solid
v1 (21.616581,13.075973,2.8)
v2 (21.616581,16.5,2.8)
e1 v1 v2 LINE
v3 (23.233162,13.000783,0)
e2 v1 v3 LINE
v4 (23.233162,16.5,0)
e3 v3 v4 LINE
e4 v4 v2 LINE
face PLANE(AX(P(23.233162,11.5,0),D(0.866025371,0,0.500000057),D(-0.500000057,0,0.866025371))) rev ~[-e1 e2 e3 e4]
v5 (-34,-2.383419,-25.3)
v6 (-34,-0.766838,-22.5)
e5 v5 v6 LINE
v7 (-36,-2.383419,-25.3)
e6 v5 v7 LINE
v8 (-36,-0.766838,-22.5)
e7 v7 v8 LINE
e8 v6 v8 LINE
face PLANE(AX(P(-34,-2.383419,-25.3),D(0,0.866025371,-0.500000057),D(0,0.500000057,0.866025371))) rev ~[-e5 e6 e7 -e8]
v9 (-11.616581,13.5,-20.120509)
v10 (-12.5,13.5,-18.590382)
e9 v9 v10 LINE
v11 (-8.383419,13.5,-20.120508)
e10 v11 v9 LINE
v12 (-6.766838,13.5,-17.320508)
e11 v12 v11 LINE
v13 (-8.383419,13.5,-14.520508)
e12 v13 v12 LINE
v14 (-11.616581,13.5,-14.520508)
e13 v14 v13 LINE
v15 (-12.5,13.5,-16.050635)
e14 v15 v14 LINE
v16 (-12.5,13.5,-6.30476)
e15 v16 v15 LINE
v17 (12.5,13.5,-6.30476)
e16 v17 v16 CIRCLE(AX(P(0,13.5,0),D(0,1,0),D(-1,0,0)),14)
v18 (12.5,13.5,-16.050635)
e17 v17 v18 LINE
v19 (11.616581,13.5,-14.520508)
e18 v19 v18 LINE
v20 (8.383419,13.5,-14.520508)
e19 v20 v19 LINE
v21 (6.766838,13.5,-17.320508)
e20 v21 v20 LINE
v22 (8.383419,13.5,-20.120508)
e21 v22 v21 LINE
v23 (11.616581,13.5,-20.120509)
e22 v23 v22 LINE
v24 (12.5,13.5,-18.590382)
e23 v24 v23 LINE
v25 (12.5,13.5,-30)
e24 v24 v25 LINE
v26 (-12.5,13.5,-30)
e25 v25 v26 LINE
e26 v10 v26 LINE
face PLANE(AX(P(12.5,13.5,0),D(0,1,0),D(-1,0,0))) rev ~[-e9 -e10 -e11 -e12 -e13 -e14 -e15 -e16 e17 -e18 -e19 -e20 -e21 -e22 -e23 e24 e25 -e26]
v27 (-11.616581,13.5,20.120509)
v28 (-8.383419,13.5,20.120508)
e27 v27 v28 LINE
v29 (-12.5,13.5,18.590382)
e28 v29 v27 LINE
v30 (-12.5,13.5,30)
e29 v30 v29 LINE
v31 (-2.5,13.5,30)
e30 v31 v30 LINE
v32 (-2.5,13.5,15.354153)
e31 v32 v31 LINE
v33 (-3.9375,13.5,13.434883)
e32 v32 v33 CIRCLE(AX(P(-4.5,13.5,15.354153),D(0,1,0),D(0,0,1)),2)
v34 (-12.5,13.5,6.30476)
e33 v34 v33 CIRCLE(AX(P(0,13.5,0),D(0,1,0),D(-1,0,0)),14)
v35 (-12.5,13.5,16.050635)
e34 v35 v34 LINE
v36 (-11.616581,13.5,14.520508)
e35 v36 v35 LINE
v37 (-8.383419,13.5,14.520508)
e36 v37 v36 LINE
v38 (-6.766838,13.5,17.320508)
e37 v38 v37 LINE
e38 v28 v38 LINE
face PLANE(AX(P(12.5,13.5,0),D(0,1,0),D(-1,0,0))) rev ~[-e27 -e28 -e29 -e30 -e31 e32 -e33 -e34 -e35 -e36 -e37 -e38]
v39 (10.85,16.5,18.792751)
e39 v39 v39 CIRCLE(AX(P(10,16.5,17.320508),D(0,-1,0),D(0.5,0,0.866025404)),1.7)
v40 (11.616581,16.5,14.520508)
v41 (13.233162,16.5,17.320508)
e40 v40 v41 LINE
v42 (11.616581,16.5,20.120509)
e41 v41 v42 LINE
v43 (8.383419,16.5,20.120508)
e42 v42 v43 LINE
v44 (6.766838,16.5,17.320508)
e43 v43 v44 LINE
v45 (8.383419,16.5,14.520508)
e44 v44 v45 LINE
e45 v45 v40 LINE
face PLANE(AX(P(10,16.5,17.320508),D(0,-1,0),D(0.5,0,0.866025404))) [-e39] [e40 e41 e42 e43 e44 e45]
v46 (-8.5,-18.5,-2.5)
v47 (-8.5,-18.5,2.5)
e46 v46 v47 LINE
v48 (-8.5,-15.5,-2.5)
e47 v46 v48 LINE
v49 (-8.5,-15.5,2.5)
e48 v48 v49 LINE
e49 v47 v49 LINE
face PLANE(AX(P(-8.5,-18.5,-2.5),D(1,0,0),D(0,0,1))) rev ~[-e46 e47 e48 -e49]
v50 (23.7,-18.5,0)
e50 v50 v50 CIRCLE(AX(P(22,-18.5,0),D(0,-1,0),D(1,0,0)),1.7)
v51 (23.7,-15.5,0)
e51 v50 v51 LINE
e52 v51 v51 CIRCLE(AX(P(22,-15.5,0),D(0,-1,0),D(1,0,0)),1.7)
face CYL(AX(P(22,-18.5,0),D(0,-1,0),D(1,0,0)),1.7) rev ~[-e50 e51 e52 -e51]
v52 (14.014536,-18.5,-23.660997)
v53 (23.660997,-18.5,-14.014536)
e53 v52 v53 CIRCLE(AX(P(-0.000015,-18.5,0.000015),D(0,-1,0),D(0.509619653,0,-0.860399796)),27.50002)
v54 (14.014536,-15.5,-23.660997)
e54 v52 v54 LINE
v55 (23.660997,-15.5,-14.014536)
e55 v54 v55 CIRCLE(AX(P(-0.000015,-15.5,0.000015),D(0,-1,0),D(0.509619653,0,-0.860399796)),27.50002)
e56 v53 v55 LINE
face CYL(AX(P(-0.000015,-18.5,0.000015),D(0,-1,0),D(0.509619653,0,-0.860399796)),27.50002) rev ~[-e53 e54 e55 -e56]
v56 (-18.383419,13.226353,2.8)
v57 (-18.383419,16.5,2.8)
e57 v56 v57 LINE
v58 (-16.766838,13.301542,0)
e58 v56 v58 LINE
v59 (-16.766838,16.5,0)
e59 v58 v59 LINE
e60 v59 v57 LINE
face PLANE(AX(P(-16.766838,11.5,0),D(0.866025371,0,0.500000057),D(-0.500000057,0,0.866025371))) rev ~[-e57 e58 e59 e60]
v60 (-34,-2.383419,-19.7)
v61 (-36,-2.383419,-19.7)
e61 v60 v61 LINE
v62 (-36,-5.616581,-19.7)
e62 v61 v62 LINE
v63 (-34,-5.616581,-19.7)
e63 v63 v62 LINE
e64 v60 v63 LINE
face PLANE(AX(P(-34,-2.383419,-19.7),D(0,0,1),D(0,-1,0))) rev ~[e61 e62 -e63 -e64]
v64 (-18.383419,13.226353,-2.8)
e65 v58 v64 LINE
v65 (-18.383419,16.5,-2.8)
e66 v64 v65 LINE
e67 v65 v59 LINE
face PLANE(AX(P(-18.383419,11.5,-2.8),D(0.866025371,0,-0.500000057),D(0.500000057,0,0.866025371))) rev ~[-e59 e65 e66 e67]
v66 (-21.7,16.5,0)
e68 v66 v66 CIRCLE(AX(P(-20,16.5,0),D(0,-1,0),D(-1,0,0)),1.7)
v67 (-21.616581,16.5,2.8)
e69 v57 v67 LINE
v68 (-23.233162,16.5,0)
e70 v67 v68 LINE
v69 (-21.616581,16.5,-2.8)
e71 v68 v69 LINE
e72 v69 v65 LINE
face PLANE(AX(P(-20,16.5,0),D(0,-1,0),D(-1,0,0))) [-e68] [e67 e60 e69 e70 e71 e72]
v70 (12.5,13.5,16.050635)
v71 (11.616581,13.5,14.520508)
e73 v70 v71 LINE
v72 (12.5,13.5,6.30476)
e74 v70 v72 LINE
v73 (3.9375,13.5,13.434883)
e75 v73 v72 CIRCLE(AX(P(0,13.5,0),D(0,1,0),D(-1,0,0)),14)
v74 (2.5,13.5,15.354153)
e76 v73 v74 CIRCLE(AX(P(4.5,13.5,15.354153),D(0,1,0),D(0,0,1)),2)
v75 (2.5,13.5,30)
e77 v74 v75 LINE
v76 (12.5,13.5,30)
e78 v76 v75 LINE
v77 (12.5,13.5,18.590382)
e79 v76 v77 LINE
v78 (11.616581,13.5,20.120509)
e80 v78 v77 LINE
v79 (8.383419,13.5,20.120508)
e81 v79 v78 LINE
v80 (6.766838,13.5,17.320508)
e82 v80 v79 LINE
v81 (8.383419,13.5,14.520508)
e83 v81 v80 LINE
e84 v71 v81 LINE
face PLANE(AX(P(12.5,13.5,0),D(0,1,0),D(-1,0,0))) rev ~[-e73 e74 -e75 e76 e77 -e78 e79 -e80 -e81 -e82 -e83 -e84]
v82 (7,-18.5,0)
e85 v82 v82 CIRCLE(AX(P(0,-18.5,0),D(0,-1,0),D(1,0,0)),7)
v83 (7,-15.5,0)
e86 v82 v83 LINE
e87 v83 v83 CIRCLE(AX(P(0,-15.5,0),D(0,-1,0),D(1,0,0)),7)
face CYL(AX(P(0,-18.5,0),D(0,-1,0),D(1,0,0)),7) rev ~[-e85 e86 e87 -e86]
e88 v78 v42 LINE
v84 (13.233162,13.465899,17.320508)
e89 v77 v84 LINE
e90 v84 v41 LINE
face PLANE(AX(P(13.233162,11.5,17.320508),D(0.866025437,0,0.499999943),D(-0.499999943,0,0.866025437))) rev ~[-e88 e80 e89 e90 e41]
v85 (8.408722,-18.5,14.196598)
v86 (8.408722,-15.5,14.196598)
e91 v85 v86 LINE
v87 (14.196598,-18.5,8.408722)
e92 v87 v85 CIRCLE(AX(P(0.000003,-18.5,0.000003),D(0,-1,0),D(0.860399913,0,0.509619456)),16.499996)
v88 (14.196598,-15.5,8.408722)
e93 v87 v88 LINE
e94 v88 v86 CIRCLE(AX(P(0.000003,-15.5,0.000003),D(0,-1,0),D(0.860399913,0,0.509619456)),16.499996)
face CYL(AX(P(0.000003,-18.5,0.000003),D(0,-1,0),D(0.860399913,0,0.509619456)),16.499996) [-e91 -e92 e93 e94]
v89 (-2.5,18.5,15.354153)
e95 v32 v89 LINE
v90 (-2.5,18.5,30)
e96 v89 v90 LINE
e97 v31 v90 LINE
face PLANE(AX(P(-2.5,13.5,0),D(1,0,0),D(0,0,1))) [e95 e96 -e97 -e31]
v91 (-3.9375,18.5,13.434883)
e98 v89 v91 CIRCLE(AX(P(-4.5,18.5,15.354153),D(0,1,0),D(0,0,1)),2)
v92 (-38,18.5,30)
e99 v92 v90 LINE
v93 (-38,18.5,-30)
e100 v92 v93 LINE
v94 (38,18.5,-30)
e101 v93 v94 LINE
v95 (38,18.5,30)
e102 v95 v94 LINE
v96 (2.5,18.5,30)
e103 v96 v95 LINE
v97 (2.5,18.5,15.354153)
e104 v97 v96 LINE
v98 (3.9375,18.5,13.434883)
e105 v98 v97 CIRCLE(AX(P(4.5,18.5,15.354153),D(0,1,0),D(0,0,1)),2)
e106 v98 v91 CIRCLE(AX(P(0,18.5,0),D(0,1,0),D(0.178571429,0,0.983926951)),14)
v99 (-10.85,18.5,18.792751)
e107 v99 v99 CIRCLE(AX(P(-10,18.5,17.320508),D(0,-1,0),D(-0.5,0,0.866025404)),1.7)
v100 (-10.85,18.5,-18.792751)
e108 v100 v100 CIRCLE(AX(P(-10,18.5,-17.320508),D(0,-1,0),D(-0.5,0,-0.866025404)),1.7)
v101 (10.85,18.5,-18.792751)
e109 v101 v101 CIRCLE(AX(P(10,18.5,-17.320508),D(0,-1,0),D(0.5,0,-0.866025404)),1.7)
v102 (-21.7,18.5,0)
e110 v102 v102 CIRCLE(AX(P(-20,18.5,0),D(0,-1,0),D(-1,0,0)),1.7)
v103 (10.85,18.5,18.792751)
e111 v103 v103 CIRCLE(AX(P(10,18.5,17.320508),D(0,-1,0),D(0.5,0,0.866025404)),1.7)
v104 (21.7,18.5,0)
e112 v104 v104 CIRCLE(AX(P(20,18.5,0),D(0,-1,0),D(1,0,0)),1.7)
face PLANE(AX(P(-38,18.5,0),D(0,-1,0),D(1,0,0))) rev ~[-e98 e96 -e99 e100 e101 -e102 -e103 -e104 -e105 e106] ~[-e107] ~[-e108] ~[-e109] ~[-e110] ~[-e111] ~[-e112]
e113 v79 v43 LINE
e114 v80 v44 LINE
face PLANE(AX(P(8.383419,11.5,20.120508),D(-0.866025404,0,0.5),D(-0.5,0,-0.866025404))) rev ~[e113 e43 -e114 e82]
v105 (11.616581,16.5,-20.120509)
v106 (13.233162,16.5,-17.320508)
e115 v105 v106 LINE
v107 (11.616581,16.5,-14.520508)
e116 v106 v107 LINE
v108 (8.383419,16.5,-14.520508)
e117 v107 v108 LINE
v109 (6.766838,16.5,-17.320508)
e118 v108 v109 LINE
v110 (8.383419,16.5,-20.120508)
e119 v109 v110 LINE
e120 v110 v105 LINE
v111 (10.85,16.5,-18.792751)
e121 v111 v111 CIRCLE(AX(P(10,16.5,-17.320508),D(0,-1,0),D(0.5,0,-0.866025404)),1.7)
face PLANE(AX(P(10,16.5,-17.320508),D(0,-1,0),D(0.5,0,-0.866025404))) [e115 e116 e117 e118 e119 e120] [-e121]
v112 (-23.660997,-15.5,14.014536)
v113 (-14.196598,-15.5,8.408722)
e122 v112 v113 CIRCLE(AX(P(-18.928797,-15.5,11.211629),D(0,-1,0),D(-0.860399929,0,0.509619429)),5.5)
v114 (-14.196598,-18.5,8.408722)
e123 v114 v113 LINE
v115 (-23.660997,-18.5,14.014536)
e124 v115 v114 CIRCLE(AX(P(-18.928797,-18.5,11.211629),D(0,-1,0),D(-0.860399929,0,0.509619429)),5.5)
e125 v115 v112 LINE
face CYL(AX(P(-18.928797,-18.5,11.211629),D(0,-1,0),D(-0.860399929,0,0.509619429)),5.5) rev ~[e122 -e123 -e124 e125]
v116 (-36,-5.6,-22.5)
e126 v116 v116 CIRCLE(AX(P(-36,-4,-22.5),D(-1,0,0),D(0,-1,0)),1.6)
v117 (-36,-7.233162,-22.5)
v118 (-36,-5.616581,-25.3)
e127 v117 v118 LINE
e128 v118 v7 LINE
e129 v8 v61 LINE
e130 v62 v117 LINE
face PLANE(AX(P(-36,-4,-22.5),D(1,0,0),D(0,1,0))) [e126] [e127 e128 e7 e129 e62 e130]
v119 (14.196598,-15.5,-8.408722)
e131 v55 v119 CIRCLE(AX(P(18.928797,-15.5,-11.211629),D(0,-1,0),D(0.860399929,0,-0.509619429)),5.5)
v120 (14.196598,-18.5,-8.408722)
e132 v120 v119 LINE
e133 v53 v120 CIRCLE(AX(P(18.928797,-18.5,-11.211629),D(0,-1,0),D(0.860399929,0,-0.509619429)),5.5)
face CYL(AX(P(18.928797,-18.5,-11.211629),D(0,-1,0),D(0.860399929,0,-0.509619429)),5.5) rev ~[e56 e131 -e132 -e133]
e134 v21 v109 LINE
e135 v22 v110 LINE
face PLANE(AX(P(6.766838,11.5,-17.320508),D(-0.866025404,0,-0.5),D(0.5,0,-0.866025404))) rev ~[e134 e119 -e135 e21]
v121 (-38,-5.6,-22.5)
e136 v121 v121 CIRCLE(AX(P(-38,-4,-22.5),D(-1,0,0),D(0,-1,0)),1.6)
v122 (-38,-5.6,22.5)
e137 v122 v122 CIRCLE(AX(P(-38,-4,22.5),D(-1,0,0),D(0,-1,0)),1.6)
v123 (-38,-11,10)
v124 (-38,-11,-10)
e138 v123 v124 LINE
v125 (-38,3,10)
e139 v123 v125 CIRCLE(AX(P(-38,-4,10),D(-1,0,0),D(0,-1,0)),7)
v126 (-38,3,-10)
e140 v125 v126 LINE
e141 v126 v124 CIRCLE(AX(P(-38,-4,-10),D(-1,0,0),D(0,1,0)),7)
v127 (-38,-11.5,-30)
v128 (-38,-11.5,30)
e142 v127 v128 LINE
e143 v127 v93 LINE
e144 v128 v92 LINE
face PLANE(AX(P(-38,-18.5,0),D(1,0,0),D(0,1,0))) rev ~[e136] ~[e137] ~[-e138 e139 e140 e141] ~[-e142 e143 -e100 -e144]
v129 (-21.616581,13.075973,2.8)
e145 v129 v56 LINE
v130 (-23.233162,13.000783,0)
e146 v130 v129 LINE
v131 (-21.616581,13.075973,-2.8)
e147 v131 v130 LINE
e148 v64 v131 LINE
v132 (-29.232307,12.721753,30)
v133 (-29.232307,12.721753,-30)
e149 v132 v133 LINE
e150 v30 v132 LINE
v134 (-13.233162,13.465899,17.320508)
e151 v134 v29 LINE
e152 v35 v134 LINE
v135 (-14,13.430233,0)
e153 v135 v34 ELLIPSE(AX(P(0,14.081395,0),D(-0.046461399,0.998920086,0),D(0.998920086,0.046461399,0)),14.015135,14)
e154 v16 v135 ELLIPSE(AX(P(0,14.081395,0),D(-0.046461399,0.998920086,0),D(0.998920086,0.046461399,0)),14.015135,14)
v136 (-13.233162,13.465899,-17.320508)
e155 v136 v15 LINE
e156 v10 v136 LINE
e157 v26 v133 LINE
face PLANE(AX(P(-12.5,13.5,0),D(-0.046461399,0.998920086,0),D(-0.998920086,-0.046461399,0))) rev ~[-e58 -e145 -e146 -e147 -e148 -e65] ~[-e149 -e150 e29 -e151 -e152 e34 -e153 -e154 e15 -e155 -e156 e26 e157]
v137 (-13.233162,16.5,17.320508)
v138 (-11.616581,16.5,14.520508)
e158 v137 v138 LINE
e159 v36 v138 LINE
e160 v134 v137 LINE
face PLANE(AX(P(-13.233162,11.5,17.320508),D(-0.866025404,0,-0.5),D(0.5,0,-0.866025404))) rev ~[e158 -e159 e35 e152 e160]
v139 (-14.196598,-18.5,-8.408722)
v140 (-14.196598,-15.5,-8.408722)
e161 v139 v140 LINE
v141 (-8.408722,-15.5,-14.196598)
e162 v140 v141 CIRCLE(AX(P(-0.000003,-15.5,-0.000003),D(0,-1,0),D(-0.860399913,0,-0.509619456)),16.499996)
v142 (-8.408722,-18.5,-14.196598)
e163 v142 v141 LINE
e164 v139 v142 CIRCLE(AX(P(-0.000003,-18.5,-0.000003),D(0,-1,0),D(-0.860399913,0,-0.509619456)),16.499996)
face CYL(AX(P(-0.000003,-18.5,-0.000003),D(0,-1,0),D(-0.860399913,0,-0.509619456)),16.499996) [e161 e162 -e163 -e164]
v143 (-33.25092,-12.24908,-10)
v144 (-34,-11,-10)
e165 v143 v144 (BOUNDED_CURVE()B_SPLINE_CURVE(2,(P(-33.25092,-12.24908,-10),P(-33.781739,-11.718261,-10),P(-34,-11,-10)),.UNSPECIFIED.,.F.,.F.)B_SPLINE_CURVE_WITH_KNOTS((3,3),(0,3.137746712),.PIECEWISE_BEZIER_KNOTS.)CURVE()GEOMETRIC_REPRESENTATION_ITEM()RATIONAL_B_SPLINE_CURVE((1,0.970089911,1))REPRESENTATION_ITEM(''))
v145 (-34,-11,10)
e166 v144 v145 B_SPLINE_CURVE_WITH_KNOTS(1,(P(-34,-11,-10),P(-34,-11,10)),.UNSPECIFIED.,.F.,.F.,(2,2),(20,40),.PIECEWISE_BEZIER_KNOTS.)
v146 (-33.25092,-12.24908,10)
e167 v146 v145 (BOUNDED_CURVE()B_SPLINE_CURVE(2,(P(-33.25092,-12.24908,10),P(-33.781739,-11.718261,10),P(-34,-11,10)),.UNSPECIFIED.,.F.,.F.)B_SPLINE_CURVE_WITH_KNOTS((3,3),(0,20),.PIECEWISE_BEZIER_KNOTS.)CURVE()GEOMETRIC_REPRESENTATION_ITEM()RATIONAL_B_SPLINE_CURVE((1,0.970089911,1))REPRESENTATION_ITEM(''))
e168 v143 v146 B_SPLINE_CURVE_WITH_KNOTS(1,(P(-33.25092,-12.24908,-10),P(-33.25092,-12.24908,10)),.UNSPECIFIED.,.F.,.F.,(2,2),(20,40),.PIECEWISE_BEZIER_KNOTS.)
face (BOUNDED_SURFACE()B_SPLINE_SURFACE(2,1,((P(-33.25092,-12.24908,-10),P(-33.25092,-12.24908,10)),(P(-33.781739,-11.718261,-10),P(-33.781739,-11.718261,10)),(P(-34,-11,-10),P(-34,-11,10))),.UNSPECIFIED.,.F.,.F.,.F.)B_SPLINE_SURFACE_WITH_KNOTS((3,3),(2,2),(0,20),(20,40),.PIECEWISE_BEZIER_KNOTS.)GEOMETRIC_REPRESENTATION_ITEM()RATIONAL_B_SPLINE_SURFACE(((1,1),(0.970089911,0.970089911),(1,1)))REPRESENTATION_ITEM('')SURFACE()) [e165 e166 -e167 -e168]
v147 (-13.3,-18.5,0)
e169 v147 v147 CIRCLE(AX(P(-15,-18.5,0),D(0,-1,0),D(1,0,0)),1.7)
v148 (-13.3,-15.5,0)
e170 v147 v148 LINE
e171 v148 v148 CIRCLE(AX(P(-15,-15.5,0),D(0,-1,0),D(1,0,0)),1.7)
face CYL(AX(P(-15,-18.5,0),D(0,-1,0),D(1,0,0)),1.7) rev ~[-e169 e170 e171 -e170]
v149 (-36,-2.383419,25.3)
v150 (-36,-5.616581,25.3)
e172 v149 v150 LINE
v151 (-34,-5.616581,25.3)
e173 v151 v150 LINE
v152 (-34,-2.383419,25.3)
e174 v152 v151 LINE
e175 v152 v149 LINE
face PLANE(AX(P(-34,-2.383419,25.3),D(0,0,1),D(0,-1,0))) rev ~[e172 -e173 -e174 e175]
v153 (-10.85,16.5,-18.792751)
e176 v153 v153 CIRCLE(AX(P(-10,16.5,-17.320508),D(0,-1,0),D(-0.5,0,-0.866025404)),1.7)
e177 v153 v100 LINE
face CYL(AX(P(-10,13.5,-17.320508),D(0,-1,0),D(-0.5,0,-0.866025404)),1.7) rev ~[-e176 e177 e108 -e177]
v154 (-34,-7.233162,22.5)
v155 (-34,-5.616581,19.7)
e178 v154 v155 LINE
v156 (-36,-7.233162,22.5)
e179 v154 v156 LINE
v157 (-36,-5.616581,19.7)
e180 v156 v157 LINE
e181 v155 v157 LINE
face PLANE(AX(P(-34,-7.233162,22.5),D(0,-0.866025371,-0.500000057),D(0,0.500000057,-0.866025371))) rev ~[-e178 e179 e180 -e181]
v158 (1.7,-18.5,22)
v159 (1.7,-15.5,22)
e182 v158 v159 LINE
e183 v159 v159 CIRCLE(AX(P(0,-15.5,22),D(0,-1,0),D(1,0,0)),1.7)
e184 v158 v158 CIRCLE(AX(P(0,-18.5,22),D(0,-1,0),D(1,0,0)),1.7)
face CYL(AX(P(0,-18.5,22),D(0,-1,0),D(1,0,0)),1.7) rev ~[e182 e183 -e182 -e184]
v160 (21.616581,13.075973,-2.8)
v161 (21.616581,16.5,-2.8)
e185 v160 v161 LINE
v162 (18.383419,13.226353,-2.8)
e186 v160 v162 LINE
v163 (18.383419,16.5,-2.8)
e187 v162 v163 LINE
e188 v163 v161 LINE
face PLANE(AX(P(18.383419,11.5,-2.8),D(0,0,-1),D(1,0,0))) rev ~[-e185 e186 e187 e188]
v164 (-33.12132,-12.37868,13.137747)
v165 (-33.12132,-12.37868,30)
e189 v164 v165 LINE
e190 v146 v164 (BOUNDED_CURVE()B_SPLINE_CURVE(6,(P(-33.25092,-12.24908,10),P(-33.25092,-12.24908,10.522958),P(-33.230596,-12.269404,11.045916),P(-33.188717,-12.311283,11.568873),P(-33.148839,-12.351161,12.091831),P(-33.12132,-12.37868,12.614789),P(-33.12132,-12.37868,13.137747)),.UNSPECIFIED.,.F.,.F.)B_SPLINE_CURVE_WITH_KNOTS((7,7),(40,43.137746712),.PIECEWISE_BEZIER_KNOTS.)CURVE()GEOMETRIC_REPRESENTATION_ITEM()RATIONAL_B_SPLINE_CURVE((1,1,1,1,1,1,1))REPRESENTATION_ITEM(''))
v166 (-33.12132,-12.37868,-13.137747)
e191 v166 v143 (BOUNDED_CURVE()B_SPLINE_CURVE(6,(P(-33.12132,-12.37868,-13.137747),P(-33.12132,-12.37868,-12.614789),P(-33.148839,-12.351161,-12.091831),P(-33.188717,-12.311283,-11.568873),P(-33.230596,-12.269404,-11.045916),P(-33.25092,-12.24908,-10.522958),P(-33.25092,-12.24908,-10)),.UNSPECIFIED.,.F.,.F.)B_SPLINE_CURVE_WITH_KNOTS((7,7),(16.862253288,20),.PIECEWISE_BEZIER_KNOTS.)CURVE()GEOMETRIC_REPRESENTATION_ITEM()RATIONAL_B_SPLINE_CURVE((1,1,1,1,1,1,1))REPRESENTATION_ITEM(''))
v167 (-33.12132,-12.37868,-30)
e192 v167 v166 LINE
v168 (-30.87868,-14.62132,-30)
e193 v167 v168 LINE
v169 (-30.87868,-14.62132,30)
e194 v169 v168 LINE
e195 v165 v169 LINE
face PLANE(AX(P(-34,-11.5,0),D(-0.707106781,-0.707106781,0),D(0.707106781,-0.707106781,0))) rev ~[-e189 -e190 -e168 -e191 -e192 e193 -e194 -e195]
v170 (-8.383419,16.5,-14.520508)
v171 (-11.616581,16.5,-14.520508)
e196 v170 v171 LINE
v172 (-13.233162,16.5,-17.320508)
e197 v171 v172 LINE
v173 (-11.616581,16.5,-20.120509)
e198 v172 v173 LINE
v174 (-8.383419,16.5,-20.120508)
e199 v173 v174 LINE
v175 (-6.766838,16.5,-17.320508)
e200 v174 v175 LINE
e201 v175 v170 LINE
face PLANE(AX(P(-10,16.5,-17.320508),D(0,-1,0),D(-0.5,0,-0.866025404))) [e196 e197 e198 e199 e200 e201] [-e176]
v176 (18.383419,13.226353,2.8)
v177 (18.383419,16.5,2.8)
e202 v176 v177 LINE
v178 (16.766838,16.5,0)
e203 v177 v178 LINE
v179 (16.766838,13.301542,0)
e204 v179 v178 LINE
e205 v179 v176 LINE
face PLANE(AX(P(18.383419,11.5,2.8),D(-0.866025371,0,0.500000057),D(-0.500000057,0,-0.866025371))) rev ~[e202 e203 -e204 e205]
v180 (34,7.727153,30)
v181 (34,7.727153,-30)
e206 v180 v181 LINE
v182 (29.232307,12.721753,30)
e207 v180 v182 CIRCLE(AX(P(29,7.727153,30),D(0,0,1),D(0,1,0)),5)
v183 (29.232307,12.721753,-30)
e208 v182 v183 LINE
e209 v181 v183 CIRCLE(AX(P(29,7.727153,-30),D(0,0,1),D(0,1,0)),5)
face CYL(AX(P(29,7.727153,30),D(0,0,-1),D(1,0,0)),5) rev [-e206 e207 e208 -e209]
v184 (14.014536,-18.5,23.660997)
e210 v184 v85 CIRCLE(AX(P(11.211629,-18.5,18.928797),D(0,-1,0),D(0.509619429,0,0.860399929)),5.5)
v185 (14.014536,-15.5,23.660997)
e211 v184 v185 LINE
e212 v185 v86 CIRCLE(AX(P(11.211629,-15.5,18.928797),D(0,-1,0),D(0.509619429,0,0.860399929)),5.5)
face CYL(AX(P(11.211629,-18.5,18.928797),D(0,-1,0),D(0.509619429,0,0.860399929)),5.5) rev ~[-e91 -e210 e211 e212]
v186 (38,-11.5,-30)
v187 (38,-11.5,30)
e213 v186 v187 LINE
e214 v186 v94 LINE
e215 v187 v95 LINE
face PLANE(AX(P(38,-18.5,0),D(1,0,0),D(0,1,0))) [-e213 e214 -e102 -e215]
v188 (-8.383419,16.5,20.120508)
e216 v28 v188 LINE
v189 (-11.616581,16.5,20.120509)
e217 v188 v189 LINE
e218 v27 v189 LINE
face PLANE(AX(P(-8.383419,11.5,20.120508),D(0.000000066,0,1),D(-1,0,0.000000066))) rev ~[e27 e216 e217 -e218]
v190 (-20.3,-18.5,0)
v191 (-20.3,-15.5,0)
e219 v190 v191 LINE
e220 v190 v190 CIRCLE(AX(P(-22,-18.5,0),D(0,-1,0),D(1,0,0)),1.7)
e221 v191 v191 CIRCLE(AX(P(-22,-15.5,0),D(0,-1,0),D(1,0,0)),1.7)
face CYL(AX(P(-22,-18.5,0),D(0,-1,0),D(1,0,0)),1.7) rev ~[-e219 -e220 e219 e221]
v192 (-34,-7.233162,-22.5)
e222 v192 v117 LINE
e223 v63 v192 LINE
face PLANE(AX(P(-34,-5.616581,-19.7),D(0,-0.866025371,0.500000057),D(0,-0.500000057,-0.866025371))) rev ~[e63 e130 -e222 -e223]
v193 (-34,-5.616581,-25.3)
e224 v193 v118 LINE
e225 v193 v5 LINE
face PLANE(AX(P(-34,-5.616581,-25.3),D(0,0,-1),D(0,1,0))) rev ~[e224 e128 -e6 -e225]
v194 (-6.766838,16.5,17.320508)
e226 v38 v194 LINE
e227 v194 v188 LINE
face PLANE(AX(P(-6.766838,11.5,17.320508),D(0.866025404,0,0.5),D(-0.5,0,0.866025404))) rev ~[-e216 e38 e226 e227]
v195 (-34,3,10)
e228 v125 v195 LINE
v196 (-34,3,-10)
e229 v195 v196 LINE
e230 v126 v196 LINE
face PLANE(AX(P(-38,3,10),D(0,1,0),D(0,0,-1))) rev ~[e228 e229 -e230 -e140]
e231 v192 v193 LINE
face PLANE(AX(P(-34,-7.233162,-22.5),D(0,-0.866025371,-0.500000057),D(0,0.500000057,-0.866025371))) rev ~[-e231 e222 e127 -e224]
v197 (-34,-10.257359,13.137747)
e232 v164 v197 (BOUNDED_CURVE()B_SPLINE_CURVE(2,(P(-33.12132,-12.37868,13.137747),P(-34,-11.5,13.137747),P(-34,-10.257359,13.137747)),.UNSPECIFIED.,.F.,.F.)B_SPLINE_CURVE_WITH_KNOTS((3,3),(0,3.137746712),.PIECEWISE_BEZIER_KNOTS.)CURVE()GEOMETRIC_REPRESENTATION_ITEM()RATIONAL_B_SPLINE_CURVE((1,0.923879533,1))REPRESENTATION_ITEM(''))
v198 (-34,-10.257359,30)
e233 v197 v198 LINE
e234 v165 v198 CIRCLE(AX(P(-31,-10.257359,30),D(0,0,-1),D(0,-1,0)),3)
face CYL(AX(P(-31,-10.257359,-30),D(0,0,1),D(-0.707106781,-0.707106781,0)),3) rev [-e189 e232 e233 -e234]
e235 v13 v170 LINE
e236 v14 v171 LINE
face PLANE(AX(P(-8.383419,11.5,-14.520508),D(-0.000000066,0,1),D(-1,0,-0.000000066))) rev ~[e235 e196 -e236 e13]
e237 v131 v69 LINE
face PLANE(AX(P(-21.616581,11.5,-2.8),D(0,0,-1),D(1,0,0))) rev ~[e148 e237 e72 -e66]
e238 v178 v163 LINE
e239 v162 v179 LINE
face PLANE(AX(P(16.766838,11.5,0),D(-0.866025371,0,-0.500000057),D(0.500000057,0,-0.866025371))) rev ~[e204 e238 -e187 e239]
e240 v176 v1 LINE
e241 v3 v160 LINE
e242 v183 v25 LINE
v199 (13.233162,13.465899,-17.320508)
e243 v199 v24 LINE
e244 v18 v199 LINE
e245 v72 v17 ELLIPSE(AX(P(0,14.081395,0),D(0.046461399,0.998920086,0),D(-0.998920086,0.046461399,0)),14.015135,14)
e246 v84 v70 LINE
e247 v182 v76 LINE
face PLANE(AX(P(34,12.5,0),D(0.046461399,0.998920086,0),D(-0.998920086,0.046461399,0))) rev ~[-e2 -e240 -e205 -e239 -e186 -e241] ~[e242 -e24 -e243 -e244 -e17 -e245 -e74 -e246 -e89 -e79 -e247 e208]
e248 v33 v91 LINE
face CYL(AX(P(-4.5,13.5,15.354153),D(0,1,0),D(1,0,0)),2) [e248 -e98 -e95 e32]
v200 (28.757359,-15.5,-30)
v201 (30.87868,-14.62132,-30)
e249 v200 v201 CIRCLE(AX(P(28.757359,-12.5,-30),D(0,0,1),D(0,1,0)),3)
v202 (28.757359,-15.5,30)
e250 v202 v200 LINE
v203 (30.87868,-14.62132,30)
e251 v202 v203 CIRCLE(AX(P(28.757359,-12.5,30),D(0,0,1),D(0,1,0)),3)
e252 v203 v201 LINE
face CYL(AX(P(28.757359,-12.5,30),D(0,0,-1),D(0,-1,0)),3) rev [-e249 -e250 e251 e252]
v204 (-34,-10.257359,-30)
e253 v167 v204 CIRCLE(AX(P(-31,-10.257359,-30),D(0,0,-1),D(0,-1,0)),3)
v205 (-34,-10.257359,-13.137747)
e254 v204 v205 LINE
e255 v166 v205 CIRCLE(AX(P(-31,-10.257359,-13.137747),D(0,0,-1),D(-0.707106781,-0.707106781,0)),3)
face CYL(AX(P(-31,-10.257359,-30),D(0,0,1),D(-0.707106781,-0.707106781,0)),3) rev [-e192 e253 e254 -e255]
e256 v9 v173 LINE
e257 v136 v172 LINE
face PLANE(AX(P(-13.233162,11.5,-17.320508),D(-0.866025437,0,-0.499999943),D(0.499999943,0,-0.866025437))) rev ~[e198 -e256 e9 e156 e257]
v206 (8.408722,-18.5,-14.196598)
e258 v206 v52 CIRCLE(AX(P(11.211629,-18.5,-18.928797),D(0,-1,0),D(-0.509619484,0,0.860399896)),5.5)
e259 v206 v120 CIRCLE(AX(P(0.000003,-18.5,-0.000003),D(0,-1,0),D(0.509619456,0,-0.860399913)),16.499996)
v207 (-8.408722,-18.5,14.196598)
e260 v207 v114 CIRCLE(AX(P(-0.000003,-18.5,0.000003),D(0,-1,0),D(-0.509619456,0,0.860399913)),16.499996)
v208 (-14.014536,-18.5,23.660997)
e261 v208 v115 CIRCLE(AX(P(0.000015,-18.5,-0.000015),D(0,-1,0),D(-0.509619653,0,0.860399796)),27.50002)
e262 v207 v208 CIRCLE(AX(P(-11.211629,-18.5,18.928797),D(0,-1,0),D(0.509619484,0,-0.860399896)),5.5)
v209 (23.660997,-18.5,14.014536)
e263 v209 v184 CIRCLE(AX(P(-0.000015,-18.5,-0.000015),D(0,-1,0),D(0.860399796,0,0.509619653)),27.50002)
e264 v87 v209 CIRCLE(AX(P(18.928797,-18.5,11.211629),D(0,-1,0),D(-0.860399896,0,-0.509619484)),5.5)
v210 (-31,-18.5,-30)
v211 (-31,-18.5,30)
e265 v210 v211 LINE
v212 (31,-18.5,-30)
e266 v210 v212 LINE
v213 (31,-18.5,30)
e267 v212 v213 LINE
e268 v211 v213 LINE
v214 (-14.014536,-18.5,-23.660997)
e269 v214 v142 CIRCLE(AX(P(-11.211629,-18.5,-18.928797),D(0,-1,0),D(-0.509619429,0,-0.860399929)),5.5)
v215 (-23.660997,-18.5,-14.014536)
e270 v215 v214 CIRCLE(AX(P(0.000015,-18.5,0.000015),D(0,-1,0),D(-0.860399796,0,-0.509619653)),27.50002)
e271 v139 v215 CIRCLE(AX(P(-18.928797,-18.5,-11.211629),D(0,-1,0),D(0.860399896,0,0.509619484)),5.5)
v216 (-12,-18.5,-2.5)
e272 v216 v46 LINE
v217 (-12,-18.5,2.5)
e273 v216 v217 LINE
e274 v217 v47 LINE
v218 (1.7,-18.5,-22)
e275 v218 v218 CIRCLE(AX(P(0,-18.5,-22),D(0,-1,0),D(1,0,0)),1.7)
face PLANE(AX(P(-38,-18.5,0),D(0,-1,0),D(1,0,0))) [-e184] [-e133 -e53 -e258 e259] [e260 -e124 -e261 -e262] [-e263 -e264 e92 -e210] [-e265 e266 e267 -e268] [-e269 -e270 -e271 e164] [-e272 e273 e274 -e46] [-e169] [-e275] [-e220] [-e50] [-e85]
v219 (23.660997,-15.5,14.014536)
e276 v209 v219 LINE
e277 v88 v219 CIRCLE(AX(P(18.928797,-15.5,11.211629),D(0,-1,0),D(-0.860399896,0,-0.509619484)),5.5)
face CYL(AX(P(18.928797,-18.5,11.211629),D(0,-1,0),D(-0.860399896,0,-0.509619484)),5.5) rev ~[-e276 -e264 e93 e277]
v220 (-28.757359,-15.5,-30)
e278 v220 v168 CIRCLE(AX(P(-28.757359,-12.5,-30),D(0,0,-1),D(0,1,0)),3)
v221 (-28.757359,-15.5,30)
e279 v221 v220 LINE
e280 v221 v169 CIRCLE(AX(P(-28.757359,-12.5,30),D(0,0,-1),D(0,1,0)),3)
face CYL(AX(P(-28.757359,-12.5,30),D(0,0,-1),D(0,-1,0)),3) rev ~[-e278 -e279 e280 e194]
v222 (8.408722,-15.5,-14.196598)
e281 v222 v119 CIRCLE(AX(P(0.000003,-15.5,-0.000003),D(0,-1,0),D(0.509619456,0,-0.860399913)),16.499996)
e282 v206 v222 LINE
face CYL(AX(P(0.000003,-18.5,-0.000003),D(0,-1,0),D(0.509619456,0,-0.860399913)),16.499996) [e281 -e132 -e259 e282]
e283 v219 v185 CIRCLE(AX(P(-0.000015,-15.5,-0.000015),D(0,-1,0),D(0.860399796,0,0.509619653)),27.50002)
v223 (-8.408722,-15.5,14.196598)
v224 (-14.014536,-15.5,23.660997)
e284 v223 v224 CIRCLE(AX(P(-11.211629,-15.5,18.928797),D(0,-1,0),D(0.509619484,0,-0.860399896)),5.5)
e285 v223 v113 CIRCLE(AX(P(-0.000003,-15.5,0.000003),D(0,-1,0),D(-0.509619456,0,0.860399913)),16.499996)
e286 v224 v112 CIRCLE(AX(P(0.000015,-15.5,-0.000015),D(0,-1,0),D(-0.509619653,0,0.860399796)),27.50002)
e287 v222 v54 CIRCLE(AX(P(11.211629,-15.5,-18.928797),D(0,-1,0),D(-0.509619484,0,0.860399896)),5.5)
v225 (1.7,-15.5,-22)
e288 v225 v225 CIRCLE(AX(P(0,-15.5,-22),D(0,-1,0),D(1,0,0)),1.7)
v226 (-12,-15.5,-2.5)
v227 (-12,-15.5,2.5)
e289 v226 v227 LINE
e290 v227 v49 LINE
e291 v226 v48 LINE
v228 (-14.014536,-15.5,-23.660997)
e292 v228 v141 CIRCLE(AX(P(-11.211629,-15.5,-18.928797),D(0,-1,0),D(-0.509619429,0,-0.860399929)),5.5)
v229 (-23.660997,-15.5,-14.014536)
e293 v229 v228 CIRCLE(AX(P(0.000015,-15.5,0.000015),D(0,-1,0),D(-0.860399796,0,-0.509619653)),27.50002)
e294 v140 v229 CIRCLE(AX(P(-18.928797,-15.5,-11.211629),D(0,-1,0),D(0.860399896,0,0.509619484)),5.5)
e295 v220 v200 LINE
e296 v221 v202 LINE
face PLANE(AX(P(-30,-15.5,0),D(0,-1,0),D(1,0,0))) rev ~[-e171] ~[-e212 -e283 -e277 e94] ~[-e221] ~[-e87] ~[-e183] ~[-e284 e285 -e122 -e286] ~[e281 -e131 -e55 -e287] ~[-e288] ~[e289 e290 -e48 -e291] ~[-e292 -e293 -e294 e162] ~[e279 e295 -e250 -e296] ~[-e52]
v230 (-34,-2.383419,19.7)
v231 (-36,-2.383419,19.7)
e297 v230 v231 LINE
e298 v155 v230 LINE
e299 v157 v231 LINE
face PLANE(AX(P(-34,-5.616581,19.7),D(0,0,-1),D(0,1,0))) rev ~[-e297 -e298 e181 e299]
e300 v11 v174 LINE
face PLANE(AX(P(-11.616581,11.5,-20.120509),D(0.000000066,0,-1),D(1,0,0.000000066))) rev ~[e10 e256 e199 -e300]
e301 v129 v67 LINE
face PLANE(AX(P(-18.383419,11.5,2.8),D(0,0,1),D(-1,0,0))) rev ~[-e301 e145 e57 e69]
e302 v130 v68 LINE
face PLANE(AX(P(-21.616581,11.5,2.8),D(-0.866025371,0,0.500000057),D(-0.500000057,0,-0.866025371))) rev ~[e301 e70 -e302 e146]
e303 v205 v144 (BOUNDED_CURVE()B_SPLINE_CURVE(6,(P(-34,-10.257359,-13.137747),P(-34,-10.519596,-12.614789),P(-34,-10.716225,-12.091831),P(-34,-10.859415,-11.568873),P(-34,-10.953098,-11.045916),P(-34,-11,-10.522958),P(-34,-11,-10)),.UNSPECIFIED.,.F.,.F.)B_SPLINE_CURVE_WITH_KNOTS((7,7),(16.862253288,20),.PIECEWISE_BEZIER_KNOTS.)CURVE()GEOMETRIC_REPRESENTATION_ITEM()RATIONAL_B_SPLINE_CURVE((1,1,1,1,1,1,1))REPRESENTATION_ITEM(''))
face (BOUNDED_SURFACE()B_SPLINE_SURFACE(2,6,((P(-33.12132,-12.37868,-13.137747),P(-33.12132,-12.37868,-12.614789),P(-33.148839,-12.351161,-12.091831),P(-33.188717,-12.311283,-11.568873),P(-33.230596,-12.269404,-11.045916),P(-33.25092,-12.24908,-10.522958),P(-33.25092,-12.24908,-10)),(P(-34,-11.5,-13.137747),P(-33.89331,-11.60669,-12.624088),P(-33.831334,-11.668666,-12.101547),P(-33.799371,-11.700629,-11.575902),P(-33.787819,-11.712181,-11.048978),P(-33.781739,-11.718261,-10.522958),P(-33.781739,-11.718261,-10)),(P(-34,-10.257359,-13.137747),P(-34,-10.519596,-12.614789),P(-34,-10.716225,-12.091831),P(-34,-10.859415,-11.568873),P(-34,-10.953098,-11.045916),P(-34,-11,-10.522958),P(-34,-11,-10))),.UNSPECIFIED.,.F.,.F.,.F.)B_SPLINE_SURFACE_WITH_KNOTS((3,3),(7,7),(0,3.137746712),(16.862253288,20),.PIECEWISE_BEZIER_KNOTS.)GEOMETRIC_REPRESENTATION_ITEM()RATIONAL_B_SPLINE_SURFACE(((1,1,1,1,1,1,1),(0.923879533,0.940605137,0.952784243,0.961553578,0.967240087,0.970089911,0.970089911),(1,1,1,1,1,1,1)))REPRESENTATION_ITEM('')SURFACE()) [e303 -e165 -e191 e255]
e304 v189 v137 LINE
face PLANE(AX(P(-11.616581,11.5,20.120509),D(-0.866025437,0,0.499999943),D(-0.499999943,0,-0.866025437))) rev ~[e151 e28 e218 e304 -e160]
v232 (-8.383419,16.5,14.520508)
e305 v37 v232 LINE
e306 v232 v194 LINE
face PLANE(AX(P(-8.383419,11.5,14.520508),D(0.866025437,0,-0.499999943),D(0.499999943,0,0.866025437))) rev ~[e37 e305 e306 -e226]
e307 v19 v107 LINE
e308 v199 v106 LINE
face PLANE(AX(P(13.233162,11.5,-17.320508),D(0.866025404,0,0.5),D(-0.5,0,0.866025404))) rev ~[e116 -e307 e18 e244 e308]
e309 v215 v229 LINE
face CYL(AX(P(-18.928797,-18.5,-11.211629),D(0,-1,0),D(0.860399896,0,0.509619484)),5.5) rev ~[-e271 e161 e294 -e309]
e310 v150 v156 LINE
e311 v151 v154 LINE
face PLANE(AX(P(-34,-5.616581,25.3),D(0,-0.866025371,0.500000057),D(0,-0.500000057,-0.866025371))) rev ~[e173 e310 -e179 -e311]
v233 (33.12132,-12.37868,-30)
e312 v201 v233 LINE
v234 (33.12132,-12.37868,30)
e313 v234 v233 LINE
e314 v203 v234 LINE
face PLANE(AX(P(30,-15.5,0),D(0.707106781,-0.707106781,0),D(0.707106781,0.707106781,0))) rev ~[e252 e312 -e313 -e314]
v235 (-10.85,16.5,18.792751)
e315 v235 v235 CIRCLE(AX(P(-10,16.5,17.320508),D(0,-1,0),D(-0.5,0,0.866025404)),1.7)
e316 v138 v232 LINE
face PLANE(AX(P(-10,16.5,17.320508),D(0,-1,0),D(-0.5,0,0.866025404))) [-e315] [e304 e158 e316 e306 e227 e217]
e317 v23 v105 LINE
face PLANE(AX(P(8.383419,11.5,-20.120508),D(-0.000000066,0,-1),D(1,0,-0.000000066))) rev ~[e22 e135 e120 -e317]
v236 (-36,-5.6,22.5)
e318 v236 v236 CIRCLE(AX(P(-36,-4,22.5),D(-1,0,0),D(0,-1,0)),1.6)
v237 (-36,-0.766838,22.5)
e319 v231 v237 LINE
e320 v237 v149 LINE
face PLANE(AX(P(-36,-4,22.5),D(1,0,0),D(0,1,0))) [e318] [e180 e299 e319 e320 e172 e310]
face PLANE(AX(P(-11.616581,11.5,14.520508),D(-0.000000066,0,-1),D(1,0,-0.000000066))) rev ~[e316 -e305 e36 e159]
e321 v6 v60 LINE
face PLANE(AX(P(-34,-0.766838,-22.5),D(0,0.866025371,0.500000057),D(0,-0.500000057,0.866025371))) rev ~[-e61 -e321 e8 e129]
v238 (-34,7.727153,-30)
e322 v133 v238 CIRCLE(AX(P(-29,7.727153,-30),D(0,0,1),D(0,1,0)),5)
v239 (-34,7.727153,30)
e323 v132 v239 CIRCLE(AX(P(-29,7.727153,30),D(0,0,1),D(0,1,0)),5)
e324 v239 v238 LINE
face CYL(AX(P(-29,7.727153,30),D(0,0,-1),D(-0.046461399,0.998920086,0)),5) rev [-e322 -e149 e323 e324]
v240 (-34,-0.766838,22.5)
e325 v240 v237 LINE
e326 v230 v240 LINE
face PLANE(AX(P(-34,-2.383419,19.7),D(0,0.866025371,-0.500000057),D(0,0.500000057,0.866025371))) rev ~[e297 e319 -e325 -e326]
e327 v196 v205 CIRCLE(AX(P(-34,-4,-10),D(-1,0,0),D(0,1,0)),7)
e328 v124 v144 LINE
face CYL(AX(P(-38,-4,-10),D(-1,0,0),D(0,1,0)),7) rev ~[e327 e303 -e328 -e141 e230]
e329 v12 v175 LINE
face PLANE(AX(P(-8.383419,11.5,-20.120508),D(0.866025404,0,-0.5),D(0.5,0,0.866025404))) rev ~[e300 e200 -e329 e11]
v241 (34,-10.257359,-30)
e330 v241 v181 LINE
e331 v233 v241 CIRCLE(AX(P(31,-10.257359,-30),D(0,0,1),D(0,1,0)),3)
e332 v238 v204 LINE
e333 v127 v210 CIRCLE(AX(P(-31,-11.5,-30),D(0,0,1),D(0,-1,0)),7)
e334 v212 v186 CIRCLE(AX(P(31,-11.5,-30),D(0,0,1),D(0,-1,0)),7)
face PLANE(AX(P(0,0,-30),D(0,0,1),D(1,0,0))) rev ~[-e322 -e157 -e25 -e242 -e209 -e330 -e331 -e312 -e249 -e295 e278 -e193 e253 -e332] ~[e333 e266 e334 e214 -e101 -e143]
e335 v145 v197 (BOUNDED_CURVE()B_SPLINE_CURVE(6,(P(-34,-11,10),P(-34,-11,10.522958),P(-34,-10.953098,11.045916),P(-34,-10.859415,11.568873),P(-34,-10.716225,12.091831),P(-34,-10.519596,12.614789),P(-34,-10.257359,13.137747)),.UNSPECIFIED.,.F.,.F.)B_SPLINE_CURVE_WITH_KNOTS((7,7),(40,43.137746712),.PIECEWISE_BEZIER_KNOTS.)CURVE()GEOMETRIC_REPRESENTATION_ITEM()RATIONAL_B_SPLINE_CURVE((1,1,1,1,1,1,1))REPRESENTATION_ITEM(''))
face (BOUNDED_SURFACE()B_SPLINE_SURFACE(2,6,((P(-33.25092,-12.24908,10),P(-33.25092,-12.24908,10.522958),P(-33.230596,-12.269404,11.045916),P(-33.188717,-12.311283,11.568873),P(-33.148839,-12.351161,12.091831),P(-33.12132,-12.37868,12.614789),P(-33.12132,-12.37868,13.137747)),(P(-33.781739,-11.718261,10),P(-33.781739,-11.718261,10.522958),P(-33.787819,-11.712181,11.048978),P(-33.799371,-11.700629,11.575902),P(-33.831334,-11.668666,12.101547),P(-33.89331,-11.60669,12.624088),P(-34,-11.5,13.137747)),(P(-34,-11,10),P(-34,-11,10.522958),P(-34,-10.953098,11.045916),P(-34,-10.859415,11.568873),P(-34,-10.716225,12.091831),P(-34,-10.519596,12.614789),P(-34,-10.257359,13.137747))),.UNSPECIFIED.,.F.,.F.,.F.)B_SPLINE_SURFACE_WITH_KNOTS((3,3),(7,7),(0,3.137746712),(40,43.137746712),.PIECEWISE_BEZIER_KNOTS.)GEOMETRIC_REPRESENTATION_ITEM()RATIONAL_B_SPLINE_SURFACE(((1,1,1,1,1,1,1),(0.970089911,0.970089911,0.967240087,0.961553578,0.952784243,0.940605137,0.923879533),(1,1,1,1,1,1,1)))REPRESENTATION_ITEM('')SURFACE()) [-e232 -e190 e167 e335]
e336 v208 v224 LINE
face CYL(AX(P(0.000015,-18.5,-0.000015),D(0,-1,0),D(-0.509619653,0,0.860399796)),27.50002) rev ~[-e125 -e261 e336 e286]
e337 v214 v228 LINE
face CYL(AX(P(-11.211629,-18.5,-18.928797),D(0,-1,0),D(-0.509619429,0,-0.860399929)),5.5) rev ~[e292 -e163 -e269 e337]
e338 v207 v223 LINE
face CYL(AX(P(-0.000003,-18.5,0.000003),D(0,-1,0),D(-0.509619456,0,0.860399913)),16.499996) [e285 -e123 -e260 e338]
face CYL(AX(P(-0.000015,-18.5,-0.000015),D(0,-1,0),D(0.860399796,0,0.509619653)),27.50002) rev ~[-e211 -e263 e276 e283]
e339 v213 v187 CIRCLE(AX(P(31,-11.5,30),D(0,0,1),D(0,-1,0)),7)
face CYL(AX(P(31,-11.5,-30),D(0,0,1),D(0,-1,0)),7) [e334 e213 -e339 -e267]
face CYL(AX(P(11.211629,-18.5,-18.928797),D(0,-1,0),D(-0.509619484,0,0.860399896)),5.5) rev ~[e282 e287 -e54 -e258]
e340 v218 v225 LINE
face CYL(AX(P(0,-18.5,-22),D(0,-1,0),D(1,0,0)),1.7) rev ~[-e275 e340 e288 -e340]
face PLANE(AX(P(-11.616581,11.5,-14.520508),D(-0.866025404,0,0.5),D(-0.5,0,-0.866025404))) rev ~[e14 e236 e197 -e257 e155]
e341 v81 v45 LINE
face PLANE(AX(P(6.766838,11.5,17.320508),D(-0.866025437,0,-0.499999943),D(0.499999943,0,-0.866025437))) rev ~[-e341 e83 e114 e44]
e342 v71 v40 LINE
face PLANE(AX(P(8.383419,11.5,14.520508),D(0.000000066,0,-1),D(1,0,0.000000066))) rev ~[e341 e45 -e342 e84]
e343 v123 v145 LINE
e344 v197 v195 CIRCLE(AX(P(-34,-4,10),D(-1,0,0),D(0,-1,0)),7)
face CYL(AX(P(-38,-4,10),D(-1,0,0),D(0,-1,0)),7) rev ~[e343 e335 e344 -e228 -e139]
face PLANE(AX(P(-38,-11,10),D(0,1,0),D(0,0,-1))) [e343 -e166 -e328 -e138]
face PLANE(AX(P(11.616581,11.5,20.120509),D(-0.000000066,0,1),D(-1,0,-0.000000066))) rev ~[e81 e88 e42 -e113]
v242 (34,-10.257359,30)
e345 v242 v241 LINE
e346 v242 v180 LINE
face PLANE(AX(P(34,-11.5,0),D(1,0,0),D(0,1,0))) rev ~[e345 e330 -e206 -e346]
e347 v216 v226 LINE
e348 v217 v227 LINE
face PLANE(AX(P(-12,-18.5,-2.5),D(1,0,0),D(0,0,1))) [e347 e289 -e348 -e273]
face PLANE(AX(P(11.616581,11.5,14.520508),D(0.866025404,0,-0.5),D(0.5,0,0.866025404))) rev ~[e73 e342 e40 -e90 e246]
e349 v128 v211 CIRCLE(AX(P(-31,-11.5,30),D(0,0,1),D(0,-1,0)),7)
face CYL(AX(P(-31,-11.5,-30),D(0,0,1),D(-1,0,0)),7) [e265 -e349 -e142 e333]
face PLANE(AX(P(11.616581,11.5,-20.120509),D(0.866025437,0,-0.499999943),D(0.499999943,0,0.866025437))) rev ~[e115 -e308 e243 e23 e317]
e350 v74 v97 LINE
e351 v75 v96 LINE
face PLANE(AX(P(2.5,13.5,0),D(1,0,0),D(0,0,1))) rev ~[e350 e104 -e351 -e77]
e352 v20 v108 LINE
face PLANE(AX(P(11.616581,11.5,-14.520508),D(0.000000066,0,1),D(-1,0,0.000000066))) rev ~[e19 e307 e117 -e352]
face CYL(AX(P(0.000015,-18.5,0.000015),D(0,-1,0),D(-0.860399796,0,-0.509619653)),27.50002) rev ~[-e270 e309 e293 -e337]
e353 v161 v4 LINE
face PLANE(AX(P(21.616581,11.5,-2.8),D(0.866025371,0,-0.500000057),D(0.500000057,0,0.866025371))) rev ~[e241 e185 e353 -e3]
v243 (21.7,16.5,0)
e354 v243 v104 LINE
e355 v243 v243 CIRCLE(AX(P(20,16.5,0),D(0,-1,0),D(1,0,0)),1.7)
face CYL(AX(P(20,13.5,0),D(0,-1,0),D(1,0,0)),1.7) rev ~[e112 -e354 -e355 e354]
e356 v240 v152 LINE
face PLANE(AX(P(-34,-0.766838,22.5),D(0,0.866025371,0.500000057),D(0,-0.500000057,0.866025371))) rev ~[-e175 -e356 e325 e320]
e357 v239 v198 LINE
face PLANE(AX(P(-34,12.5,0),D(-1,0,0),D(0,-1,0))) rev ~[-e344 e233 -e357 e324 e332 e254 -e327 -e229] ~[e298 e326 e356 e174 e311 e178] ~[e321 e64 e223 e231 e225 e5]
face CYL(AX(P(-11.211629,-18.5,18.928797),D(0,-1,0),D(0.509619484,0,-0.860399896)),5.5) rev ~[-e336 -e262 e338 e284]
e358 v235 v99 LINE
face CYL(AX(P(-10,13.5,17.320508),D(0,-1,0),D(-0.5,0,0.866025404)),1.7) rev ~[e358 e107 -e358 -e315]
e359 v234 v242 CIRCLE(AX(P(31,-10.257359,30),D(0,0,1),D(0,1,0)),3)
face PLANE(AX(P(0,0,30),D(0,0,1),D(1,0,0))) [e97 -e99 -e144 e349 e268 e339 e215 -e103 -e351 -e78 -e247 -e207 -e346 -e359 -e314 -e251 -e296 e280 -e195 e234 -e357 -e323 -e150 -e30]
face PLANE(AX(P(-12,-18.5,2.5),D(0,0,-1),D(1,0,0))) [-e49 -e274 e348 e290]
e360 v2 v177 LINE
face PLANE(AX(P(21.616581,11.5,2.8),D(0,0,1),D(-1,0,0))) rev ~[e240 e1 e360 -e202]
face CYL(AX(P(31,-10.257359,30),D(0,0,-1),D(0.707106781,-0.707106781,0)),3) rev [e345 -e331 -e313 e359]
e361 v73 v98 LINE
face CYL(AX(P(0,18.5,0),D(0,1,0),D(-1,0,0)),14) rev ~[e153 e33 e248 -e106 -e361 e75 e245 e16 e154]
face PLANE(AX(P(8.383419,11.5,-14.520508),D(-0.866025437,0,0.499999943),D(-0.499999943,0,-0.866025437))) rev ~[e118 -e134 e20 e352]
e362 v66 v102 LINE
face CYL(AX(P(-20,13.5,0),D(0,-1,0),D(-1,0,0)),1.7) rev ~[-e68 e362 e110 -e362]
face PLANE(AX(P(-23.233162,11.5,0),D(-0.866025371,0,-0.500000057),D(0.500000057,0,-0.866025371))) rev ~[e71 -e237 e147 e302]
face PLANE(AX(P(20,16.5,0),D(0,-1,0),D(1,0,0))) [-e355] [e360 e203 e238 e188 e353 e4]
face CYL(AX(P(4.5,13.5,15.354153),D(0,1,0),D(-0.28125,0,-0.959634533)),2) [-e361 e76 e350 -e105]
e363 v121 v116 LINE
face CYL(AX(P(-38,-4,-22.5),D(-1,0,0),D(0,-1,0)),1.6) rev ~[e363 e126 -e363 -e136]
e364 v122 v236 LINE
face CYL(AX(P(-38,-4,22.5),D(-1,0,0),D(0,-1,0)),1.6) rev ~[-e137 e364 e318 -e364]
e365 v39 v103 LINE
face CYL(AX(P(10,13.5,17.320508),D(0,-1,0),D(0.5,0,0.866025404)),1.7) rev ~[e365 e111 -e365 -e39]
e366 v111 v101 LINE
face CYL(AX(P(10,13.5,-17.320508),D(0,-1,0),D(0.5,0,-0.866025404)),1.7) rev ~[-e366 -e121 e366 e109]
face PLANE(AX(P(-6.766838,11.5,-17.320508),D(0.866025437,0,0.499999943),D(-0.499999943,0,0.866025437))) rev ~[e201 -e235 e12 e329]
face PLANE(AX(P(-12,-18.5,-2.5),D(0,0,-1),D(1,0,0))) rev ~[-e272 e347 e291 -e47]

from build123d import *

# Parameters (mm, degrees)
SKETCH_W              = 76
SKETCH_H              = 37
PAD_DEPTH             = 30
SKETCH020_R           = 14
POCKET_DEPTH          = 8
SKETCH026_R           = 1.7
PAD001_DEPTH          = 2
POCKET001_DEPTH       = 5
POLARPATTERN_COUNT    = 6
SKETCH025_R           = 1.7
POCKET005_DEPTH       = 212.317184
POLARPATTERN001_COUNT = 6
SKETCH022_R           = 1.7
SKETCH022_R_2         = 7
SKETCH022_W           = 3.5
SKETCH022_H           = 5
POCKET002_DEPTH       = 5
SKETCH027_W           = 5
SKETCH027_H           = 30
POCKET006_DEPTH       = 5.001
SKETCH028_R           = 1.6
POCKET007_DEPTH       = 5
POCKET008_DEPTH       = 2
FILLET_R              = 7
FILLET001_R           = 7
FILLET002_R           = 5
FILLET003_R           = 5
FILLET004_R           = 3
FILLET005_R           = 3
FILLET006_R           = 3
FILLET007_R           = 3
FILLET008_R           = 2
FILLET009_R           = 2


with BuildPart() as part:
    # Sketch → Pad (new body, symmetric)
    with BuildSketch(Plane.XY):
        Rectangle(SKETCH_W, SKETCH_H)
        Polygon((-34, -11.5), (-30, -15.5), (30, -15.5), (34, -11.5), (34, 12.5), (12.5, 13.5), (-12.5, 13.5), (-34, 12.5), align=None, mode=Mode.SUBTRACT)
    extrude(amount=PAD_DEPTH, both=True)

    # Sketch020 → Pocket (cut)
    with BuildSketch(Plane(origin=(0, 18.5, 0), x_dir=(-1, 0, 0), z_dir=(0, 1, 0))):
        Circle(SKETCH020_R)
    extrude(amount=-POCKET_DEPTH, mode=Mode.SUBTRACT)

    # Sketch026 → Pad001 (new body)
    with BuildSketch(Plane.XZ.offset(-13.5)):
        with Locations((20, 0)):
            Circle(SKETCH026_R)
    extrude(amount=PAD001_DEPTH)

    # Sketch021 → Pocket001 (cut)
    with BuildSketch(Plane.XZ.offset(-11.5)):
        Polygon((18.383419, 2.8), (16.766838, 0), (18.383419, -2.8), (21.616581, -2.8), (23.233162, 0), (21.616581, 2.8), align=None)
    pocket001 = extrude(amount=-POCKET001_DEPTH, mode=Mode.SUBTRACT)

    # PolarPattern: Pocket001 ×6 about axis
    polarpattern_axis = Axis((0, 11.5, 0), (0, -1, 0))
    for i in range(1, POLARPATTERN_COUNT):
        add(pocket001.rotate(polarpattern_axis, i * 360 / POLARPATTERN_COUNT), mode=Mode.SUBTRACT)

    # Sketch025 → Pocket005 (cut, through all)
    with BuildSketch(Plane.XZ.offset(-13.5)):
        with Locations((20, 0)):
            Circle(SKETCH025_R)
    pocket005 = extrude(amount=-POCKET005_DEPTH, mode=Mode.SUBTRACT)

    # PolarPattern001: Pocket005 ×6 about axis
    polarpattern001_axis = Axis((0, 13.5, 0), (0, -1, 0))
    for i in range(1, POLARPATTERN001_COUNT):
        add(pocket005.rotate(polarpattern001_axis, i * 360 / POLARPATTERN001_COUNT), mode=Mode.SUBTRACT)

    # Sketch022 → Pocket002 (cut)
    with BuildSketch(Plane.XZ.offset(18.5)):
        with Locations((0, 22)):
            Circle(SKETCH022_R)
        with Locations((0, -22)):
            Circle(SKETCH022_R)
        with Locations((-22, 0)):
            Circle(SKETCH022_R)
        with Locations((22, 0)):
            Circle(SKETCH022_R)
        Circle(SKETCH022_R_2)
        with Locations((-15, 0)):
            Circle(SKETCH022_R)
        with BuildLine():
            ThreePointArc((-23.660997, 14.014536), (-21.731705, 6.47943), (-14.196598, 8.408722))
            ThreePointArc((-8.408722, 14.196598), (-11.667262, 11.667262), (-14.196598, 8.408722))
            ThreePointArc((-8.408722, 14.196598), (-6.47943, 21.731705), (-14.014536, 23.660997))
            ThreePointArc((-14.014536, 23.660997), (-19.445436, 19.445436), (-23.660997, 14.014536))
        make_face()
        with BuildLine():
            ThreePointArc((8.408722, -14.196598), (11.667262, -11.667262), (14.196598, -8.408722))
            ThreePointArc((23.660997, -14.014536), (21.731705, -6.47943), (14.196598, -8.408722))
            ThreePointArc((14.014536, -23.660997), (19.445436, -19.445436), (23.660997, -14.014536))
            ThreePointArc((8.408722, -14.196598), (6.47943, -21.731705), (14.014536, -23.660997))
        make_face()
        with BuildLine():
            ThreePointArc((23.660997, 14.014536), (19.445436, 19.445436), (14.014536, 23.660997))
            ThreePointArc((14.014536, 23.660997), (6.47943, 21.731705), (8.408722, 14.196598))
            ThreePointArc((14.196598, 8.408722), (11.667262, 11.667262), (8.408722, 14.196598))
            ThreePointArc((14.196598, 8.408722), (21.731705, 6.47943), (23.660997, 14.014536))
        make_face()
        with BuildLine():
            ThreePointArc((-14.014536, -23.660997), (-6.47943, -21.731705), (-8.408722, -14.196598))
            ThreePointArc((-14.196598, -8.408722), (-11.667262, -11.667262), (-8.408722, -14.196598))
            ThreePointArc((-14.196598, -8.408722), (-21.731705, -6.47943), (-23.660997, -14.014536))
            ThreePointArc((-23.660997, -14.014536), (-19.445436, -19.445436), (-14.014536, -23.660997))
        make_face()
        with Locations((-10.25, 0)):
            Rectangle(SKETCH022_W, SKETCH022_H)
    extrude(amount=-POCKET002_DEPTH, mode=Mode.SUBTRACT)

    # Sketch027 → Pocket006 (cut, through all)
    with BuildSketch(Plane.XZ.offset(-13.5)):
        with Locations((0, 15)):
            Rectangle(SKETCH027_W, SKETCH027_H)
    extrude(amount=-POCKET006_DEPTH, mode=Mode.SUBTRACT)

    # Sketch028 → Pocket007 (cut)
    with BuildSketch(Plane(origin=(-38, 0, 0), x_dir=(0, -1, 0), z_dir=(-1, 0, 0))):
        with Locations((4, 22.5)):
            Circle(SKETCH028_R)
        with Locations((4, -22.5)):
            Circle(SKETCH028_R)
        with BuildLine():
            ThreePointArc((11, 10), (4, 17), (-3, 10))
            Line((-3, 10), (-3, -10))
            ThreePointArc((-3, -10), (4, -17), (11, -10))
            Line((11, 10), (11, -10))
        make_face()
    extrude(amount=-POCKET007_DEPTH, mode=Mode.SUBTRACT)

    # Sketch029 → Pocket008 (cut)
    with BuildSketch(Plane.YZ.offset(-34)):
        Polygon((-2.383419, 19.7), (-0.766838, 22.5), (-2.383419, 25.3), (-5.616581, 25.3), (-7.233162, 22.5), (-5.616581, 19.7), align=None)
        Polygon((-7.233162, -22.5), (-5.616581, -25.3), (-2.383419, -25.3), (-0.766838, -22.5), (-2.383419, -19.7), (-5.616581, -19.7), align=None)
    extrude(amount=-POCKET008_DEPTH, mode=Mode.SUBTRACT)

    # Fillet
    fillet_edges = [part.edges().sort_by_distance(p)[0] for p in [
        (-38, -18.5, 0),
    ]]
    fillet(fillet_edges, radius=FILLET_R)

    # Fillet001
    fillet001_edges = [part.edges().sort_by_distance(p)[0] for p in [
        (38, -18.5, 0),
    ]]
    fillet(fillet001_edges, radius=FILLET001_R)

    # Fillet002
    fillet002_edges = [part.edges().sort_by_distance(p)[0] for p in [
        (-34, 12.5, 0),
    ]]
    fillet(fillet002_edges, radius=FILLET002_R)

    # Fillet003
    fillet003_edges = [part.edges().sort_by_distance(p)[0] for p in [
        (34, 12.5, 0),
    ]]
    fillet(fillet003_edges, radius=FILLET003_R)

    # Fillet004
    fillet004_edges = [part.edges().sort_by_distance(p)[0] for p in [
        (-30, -15.5, 0),
    ]]
    fillet(fillet004_edges, radius=FILLET004_R)

    # Fillet005
    fillet005_edges = [part.edges().sort_by_distance(p)[0] for p in [
        (30, -15.5, 0),
    ]]
    fillet(fillet005_edges, radius=FILLET005_R)

    # Fillet006
    fillet006_edges = [part.edges().sort_by_distance(p)[0] for p in [
        (34, -11.5, 0),
    ]]
    fillet(fillet006_edges, radius=FILLET006_R)

    # Fillet007
    fillet007_edges = [part.edges().sort_by_distance(p)[0] for p in [
        (-34, -11.5, 0),
    ]]
    fillet(fillet007_edges, radius=FILLET007_R)

    # Fillet008
    fillet008_edges = [part.edges().sort_by_distance(p)[0] for p in [
        (-2.5, 16, 13.774977),
    ]]
    fillet(fillet008_edges, radius=FILLET008_R)

    # Fillet009
    fillet009_edges = [part.edges().sort_by_distance(p)[0] for p in [
        (2.5, 16, 13.774977),
    ]]
    fillet(fillet009_edges, radius=FILLET009_R)


solid = part.part
